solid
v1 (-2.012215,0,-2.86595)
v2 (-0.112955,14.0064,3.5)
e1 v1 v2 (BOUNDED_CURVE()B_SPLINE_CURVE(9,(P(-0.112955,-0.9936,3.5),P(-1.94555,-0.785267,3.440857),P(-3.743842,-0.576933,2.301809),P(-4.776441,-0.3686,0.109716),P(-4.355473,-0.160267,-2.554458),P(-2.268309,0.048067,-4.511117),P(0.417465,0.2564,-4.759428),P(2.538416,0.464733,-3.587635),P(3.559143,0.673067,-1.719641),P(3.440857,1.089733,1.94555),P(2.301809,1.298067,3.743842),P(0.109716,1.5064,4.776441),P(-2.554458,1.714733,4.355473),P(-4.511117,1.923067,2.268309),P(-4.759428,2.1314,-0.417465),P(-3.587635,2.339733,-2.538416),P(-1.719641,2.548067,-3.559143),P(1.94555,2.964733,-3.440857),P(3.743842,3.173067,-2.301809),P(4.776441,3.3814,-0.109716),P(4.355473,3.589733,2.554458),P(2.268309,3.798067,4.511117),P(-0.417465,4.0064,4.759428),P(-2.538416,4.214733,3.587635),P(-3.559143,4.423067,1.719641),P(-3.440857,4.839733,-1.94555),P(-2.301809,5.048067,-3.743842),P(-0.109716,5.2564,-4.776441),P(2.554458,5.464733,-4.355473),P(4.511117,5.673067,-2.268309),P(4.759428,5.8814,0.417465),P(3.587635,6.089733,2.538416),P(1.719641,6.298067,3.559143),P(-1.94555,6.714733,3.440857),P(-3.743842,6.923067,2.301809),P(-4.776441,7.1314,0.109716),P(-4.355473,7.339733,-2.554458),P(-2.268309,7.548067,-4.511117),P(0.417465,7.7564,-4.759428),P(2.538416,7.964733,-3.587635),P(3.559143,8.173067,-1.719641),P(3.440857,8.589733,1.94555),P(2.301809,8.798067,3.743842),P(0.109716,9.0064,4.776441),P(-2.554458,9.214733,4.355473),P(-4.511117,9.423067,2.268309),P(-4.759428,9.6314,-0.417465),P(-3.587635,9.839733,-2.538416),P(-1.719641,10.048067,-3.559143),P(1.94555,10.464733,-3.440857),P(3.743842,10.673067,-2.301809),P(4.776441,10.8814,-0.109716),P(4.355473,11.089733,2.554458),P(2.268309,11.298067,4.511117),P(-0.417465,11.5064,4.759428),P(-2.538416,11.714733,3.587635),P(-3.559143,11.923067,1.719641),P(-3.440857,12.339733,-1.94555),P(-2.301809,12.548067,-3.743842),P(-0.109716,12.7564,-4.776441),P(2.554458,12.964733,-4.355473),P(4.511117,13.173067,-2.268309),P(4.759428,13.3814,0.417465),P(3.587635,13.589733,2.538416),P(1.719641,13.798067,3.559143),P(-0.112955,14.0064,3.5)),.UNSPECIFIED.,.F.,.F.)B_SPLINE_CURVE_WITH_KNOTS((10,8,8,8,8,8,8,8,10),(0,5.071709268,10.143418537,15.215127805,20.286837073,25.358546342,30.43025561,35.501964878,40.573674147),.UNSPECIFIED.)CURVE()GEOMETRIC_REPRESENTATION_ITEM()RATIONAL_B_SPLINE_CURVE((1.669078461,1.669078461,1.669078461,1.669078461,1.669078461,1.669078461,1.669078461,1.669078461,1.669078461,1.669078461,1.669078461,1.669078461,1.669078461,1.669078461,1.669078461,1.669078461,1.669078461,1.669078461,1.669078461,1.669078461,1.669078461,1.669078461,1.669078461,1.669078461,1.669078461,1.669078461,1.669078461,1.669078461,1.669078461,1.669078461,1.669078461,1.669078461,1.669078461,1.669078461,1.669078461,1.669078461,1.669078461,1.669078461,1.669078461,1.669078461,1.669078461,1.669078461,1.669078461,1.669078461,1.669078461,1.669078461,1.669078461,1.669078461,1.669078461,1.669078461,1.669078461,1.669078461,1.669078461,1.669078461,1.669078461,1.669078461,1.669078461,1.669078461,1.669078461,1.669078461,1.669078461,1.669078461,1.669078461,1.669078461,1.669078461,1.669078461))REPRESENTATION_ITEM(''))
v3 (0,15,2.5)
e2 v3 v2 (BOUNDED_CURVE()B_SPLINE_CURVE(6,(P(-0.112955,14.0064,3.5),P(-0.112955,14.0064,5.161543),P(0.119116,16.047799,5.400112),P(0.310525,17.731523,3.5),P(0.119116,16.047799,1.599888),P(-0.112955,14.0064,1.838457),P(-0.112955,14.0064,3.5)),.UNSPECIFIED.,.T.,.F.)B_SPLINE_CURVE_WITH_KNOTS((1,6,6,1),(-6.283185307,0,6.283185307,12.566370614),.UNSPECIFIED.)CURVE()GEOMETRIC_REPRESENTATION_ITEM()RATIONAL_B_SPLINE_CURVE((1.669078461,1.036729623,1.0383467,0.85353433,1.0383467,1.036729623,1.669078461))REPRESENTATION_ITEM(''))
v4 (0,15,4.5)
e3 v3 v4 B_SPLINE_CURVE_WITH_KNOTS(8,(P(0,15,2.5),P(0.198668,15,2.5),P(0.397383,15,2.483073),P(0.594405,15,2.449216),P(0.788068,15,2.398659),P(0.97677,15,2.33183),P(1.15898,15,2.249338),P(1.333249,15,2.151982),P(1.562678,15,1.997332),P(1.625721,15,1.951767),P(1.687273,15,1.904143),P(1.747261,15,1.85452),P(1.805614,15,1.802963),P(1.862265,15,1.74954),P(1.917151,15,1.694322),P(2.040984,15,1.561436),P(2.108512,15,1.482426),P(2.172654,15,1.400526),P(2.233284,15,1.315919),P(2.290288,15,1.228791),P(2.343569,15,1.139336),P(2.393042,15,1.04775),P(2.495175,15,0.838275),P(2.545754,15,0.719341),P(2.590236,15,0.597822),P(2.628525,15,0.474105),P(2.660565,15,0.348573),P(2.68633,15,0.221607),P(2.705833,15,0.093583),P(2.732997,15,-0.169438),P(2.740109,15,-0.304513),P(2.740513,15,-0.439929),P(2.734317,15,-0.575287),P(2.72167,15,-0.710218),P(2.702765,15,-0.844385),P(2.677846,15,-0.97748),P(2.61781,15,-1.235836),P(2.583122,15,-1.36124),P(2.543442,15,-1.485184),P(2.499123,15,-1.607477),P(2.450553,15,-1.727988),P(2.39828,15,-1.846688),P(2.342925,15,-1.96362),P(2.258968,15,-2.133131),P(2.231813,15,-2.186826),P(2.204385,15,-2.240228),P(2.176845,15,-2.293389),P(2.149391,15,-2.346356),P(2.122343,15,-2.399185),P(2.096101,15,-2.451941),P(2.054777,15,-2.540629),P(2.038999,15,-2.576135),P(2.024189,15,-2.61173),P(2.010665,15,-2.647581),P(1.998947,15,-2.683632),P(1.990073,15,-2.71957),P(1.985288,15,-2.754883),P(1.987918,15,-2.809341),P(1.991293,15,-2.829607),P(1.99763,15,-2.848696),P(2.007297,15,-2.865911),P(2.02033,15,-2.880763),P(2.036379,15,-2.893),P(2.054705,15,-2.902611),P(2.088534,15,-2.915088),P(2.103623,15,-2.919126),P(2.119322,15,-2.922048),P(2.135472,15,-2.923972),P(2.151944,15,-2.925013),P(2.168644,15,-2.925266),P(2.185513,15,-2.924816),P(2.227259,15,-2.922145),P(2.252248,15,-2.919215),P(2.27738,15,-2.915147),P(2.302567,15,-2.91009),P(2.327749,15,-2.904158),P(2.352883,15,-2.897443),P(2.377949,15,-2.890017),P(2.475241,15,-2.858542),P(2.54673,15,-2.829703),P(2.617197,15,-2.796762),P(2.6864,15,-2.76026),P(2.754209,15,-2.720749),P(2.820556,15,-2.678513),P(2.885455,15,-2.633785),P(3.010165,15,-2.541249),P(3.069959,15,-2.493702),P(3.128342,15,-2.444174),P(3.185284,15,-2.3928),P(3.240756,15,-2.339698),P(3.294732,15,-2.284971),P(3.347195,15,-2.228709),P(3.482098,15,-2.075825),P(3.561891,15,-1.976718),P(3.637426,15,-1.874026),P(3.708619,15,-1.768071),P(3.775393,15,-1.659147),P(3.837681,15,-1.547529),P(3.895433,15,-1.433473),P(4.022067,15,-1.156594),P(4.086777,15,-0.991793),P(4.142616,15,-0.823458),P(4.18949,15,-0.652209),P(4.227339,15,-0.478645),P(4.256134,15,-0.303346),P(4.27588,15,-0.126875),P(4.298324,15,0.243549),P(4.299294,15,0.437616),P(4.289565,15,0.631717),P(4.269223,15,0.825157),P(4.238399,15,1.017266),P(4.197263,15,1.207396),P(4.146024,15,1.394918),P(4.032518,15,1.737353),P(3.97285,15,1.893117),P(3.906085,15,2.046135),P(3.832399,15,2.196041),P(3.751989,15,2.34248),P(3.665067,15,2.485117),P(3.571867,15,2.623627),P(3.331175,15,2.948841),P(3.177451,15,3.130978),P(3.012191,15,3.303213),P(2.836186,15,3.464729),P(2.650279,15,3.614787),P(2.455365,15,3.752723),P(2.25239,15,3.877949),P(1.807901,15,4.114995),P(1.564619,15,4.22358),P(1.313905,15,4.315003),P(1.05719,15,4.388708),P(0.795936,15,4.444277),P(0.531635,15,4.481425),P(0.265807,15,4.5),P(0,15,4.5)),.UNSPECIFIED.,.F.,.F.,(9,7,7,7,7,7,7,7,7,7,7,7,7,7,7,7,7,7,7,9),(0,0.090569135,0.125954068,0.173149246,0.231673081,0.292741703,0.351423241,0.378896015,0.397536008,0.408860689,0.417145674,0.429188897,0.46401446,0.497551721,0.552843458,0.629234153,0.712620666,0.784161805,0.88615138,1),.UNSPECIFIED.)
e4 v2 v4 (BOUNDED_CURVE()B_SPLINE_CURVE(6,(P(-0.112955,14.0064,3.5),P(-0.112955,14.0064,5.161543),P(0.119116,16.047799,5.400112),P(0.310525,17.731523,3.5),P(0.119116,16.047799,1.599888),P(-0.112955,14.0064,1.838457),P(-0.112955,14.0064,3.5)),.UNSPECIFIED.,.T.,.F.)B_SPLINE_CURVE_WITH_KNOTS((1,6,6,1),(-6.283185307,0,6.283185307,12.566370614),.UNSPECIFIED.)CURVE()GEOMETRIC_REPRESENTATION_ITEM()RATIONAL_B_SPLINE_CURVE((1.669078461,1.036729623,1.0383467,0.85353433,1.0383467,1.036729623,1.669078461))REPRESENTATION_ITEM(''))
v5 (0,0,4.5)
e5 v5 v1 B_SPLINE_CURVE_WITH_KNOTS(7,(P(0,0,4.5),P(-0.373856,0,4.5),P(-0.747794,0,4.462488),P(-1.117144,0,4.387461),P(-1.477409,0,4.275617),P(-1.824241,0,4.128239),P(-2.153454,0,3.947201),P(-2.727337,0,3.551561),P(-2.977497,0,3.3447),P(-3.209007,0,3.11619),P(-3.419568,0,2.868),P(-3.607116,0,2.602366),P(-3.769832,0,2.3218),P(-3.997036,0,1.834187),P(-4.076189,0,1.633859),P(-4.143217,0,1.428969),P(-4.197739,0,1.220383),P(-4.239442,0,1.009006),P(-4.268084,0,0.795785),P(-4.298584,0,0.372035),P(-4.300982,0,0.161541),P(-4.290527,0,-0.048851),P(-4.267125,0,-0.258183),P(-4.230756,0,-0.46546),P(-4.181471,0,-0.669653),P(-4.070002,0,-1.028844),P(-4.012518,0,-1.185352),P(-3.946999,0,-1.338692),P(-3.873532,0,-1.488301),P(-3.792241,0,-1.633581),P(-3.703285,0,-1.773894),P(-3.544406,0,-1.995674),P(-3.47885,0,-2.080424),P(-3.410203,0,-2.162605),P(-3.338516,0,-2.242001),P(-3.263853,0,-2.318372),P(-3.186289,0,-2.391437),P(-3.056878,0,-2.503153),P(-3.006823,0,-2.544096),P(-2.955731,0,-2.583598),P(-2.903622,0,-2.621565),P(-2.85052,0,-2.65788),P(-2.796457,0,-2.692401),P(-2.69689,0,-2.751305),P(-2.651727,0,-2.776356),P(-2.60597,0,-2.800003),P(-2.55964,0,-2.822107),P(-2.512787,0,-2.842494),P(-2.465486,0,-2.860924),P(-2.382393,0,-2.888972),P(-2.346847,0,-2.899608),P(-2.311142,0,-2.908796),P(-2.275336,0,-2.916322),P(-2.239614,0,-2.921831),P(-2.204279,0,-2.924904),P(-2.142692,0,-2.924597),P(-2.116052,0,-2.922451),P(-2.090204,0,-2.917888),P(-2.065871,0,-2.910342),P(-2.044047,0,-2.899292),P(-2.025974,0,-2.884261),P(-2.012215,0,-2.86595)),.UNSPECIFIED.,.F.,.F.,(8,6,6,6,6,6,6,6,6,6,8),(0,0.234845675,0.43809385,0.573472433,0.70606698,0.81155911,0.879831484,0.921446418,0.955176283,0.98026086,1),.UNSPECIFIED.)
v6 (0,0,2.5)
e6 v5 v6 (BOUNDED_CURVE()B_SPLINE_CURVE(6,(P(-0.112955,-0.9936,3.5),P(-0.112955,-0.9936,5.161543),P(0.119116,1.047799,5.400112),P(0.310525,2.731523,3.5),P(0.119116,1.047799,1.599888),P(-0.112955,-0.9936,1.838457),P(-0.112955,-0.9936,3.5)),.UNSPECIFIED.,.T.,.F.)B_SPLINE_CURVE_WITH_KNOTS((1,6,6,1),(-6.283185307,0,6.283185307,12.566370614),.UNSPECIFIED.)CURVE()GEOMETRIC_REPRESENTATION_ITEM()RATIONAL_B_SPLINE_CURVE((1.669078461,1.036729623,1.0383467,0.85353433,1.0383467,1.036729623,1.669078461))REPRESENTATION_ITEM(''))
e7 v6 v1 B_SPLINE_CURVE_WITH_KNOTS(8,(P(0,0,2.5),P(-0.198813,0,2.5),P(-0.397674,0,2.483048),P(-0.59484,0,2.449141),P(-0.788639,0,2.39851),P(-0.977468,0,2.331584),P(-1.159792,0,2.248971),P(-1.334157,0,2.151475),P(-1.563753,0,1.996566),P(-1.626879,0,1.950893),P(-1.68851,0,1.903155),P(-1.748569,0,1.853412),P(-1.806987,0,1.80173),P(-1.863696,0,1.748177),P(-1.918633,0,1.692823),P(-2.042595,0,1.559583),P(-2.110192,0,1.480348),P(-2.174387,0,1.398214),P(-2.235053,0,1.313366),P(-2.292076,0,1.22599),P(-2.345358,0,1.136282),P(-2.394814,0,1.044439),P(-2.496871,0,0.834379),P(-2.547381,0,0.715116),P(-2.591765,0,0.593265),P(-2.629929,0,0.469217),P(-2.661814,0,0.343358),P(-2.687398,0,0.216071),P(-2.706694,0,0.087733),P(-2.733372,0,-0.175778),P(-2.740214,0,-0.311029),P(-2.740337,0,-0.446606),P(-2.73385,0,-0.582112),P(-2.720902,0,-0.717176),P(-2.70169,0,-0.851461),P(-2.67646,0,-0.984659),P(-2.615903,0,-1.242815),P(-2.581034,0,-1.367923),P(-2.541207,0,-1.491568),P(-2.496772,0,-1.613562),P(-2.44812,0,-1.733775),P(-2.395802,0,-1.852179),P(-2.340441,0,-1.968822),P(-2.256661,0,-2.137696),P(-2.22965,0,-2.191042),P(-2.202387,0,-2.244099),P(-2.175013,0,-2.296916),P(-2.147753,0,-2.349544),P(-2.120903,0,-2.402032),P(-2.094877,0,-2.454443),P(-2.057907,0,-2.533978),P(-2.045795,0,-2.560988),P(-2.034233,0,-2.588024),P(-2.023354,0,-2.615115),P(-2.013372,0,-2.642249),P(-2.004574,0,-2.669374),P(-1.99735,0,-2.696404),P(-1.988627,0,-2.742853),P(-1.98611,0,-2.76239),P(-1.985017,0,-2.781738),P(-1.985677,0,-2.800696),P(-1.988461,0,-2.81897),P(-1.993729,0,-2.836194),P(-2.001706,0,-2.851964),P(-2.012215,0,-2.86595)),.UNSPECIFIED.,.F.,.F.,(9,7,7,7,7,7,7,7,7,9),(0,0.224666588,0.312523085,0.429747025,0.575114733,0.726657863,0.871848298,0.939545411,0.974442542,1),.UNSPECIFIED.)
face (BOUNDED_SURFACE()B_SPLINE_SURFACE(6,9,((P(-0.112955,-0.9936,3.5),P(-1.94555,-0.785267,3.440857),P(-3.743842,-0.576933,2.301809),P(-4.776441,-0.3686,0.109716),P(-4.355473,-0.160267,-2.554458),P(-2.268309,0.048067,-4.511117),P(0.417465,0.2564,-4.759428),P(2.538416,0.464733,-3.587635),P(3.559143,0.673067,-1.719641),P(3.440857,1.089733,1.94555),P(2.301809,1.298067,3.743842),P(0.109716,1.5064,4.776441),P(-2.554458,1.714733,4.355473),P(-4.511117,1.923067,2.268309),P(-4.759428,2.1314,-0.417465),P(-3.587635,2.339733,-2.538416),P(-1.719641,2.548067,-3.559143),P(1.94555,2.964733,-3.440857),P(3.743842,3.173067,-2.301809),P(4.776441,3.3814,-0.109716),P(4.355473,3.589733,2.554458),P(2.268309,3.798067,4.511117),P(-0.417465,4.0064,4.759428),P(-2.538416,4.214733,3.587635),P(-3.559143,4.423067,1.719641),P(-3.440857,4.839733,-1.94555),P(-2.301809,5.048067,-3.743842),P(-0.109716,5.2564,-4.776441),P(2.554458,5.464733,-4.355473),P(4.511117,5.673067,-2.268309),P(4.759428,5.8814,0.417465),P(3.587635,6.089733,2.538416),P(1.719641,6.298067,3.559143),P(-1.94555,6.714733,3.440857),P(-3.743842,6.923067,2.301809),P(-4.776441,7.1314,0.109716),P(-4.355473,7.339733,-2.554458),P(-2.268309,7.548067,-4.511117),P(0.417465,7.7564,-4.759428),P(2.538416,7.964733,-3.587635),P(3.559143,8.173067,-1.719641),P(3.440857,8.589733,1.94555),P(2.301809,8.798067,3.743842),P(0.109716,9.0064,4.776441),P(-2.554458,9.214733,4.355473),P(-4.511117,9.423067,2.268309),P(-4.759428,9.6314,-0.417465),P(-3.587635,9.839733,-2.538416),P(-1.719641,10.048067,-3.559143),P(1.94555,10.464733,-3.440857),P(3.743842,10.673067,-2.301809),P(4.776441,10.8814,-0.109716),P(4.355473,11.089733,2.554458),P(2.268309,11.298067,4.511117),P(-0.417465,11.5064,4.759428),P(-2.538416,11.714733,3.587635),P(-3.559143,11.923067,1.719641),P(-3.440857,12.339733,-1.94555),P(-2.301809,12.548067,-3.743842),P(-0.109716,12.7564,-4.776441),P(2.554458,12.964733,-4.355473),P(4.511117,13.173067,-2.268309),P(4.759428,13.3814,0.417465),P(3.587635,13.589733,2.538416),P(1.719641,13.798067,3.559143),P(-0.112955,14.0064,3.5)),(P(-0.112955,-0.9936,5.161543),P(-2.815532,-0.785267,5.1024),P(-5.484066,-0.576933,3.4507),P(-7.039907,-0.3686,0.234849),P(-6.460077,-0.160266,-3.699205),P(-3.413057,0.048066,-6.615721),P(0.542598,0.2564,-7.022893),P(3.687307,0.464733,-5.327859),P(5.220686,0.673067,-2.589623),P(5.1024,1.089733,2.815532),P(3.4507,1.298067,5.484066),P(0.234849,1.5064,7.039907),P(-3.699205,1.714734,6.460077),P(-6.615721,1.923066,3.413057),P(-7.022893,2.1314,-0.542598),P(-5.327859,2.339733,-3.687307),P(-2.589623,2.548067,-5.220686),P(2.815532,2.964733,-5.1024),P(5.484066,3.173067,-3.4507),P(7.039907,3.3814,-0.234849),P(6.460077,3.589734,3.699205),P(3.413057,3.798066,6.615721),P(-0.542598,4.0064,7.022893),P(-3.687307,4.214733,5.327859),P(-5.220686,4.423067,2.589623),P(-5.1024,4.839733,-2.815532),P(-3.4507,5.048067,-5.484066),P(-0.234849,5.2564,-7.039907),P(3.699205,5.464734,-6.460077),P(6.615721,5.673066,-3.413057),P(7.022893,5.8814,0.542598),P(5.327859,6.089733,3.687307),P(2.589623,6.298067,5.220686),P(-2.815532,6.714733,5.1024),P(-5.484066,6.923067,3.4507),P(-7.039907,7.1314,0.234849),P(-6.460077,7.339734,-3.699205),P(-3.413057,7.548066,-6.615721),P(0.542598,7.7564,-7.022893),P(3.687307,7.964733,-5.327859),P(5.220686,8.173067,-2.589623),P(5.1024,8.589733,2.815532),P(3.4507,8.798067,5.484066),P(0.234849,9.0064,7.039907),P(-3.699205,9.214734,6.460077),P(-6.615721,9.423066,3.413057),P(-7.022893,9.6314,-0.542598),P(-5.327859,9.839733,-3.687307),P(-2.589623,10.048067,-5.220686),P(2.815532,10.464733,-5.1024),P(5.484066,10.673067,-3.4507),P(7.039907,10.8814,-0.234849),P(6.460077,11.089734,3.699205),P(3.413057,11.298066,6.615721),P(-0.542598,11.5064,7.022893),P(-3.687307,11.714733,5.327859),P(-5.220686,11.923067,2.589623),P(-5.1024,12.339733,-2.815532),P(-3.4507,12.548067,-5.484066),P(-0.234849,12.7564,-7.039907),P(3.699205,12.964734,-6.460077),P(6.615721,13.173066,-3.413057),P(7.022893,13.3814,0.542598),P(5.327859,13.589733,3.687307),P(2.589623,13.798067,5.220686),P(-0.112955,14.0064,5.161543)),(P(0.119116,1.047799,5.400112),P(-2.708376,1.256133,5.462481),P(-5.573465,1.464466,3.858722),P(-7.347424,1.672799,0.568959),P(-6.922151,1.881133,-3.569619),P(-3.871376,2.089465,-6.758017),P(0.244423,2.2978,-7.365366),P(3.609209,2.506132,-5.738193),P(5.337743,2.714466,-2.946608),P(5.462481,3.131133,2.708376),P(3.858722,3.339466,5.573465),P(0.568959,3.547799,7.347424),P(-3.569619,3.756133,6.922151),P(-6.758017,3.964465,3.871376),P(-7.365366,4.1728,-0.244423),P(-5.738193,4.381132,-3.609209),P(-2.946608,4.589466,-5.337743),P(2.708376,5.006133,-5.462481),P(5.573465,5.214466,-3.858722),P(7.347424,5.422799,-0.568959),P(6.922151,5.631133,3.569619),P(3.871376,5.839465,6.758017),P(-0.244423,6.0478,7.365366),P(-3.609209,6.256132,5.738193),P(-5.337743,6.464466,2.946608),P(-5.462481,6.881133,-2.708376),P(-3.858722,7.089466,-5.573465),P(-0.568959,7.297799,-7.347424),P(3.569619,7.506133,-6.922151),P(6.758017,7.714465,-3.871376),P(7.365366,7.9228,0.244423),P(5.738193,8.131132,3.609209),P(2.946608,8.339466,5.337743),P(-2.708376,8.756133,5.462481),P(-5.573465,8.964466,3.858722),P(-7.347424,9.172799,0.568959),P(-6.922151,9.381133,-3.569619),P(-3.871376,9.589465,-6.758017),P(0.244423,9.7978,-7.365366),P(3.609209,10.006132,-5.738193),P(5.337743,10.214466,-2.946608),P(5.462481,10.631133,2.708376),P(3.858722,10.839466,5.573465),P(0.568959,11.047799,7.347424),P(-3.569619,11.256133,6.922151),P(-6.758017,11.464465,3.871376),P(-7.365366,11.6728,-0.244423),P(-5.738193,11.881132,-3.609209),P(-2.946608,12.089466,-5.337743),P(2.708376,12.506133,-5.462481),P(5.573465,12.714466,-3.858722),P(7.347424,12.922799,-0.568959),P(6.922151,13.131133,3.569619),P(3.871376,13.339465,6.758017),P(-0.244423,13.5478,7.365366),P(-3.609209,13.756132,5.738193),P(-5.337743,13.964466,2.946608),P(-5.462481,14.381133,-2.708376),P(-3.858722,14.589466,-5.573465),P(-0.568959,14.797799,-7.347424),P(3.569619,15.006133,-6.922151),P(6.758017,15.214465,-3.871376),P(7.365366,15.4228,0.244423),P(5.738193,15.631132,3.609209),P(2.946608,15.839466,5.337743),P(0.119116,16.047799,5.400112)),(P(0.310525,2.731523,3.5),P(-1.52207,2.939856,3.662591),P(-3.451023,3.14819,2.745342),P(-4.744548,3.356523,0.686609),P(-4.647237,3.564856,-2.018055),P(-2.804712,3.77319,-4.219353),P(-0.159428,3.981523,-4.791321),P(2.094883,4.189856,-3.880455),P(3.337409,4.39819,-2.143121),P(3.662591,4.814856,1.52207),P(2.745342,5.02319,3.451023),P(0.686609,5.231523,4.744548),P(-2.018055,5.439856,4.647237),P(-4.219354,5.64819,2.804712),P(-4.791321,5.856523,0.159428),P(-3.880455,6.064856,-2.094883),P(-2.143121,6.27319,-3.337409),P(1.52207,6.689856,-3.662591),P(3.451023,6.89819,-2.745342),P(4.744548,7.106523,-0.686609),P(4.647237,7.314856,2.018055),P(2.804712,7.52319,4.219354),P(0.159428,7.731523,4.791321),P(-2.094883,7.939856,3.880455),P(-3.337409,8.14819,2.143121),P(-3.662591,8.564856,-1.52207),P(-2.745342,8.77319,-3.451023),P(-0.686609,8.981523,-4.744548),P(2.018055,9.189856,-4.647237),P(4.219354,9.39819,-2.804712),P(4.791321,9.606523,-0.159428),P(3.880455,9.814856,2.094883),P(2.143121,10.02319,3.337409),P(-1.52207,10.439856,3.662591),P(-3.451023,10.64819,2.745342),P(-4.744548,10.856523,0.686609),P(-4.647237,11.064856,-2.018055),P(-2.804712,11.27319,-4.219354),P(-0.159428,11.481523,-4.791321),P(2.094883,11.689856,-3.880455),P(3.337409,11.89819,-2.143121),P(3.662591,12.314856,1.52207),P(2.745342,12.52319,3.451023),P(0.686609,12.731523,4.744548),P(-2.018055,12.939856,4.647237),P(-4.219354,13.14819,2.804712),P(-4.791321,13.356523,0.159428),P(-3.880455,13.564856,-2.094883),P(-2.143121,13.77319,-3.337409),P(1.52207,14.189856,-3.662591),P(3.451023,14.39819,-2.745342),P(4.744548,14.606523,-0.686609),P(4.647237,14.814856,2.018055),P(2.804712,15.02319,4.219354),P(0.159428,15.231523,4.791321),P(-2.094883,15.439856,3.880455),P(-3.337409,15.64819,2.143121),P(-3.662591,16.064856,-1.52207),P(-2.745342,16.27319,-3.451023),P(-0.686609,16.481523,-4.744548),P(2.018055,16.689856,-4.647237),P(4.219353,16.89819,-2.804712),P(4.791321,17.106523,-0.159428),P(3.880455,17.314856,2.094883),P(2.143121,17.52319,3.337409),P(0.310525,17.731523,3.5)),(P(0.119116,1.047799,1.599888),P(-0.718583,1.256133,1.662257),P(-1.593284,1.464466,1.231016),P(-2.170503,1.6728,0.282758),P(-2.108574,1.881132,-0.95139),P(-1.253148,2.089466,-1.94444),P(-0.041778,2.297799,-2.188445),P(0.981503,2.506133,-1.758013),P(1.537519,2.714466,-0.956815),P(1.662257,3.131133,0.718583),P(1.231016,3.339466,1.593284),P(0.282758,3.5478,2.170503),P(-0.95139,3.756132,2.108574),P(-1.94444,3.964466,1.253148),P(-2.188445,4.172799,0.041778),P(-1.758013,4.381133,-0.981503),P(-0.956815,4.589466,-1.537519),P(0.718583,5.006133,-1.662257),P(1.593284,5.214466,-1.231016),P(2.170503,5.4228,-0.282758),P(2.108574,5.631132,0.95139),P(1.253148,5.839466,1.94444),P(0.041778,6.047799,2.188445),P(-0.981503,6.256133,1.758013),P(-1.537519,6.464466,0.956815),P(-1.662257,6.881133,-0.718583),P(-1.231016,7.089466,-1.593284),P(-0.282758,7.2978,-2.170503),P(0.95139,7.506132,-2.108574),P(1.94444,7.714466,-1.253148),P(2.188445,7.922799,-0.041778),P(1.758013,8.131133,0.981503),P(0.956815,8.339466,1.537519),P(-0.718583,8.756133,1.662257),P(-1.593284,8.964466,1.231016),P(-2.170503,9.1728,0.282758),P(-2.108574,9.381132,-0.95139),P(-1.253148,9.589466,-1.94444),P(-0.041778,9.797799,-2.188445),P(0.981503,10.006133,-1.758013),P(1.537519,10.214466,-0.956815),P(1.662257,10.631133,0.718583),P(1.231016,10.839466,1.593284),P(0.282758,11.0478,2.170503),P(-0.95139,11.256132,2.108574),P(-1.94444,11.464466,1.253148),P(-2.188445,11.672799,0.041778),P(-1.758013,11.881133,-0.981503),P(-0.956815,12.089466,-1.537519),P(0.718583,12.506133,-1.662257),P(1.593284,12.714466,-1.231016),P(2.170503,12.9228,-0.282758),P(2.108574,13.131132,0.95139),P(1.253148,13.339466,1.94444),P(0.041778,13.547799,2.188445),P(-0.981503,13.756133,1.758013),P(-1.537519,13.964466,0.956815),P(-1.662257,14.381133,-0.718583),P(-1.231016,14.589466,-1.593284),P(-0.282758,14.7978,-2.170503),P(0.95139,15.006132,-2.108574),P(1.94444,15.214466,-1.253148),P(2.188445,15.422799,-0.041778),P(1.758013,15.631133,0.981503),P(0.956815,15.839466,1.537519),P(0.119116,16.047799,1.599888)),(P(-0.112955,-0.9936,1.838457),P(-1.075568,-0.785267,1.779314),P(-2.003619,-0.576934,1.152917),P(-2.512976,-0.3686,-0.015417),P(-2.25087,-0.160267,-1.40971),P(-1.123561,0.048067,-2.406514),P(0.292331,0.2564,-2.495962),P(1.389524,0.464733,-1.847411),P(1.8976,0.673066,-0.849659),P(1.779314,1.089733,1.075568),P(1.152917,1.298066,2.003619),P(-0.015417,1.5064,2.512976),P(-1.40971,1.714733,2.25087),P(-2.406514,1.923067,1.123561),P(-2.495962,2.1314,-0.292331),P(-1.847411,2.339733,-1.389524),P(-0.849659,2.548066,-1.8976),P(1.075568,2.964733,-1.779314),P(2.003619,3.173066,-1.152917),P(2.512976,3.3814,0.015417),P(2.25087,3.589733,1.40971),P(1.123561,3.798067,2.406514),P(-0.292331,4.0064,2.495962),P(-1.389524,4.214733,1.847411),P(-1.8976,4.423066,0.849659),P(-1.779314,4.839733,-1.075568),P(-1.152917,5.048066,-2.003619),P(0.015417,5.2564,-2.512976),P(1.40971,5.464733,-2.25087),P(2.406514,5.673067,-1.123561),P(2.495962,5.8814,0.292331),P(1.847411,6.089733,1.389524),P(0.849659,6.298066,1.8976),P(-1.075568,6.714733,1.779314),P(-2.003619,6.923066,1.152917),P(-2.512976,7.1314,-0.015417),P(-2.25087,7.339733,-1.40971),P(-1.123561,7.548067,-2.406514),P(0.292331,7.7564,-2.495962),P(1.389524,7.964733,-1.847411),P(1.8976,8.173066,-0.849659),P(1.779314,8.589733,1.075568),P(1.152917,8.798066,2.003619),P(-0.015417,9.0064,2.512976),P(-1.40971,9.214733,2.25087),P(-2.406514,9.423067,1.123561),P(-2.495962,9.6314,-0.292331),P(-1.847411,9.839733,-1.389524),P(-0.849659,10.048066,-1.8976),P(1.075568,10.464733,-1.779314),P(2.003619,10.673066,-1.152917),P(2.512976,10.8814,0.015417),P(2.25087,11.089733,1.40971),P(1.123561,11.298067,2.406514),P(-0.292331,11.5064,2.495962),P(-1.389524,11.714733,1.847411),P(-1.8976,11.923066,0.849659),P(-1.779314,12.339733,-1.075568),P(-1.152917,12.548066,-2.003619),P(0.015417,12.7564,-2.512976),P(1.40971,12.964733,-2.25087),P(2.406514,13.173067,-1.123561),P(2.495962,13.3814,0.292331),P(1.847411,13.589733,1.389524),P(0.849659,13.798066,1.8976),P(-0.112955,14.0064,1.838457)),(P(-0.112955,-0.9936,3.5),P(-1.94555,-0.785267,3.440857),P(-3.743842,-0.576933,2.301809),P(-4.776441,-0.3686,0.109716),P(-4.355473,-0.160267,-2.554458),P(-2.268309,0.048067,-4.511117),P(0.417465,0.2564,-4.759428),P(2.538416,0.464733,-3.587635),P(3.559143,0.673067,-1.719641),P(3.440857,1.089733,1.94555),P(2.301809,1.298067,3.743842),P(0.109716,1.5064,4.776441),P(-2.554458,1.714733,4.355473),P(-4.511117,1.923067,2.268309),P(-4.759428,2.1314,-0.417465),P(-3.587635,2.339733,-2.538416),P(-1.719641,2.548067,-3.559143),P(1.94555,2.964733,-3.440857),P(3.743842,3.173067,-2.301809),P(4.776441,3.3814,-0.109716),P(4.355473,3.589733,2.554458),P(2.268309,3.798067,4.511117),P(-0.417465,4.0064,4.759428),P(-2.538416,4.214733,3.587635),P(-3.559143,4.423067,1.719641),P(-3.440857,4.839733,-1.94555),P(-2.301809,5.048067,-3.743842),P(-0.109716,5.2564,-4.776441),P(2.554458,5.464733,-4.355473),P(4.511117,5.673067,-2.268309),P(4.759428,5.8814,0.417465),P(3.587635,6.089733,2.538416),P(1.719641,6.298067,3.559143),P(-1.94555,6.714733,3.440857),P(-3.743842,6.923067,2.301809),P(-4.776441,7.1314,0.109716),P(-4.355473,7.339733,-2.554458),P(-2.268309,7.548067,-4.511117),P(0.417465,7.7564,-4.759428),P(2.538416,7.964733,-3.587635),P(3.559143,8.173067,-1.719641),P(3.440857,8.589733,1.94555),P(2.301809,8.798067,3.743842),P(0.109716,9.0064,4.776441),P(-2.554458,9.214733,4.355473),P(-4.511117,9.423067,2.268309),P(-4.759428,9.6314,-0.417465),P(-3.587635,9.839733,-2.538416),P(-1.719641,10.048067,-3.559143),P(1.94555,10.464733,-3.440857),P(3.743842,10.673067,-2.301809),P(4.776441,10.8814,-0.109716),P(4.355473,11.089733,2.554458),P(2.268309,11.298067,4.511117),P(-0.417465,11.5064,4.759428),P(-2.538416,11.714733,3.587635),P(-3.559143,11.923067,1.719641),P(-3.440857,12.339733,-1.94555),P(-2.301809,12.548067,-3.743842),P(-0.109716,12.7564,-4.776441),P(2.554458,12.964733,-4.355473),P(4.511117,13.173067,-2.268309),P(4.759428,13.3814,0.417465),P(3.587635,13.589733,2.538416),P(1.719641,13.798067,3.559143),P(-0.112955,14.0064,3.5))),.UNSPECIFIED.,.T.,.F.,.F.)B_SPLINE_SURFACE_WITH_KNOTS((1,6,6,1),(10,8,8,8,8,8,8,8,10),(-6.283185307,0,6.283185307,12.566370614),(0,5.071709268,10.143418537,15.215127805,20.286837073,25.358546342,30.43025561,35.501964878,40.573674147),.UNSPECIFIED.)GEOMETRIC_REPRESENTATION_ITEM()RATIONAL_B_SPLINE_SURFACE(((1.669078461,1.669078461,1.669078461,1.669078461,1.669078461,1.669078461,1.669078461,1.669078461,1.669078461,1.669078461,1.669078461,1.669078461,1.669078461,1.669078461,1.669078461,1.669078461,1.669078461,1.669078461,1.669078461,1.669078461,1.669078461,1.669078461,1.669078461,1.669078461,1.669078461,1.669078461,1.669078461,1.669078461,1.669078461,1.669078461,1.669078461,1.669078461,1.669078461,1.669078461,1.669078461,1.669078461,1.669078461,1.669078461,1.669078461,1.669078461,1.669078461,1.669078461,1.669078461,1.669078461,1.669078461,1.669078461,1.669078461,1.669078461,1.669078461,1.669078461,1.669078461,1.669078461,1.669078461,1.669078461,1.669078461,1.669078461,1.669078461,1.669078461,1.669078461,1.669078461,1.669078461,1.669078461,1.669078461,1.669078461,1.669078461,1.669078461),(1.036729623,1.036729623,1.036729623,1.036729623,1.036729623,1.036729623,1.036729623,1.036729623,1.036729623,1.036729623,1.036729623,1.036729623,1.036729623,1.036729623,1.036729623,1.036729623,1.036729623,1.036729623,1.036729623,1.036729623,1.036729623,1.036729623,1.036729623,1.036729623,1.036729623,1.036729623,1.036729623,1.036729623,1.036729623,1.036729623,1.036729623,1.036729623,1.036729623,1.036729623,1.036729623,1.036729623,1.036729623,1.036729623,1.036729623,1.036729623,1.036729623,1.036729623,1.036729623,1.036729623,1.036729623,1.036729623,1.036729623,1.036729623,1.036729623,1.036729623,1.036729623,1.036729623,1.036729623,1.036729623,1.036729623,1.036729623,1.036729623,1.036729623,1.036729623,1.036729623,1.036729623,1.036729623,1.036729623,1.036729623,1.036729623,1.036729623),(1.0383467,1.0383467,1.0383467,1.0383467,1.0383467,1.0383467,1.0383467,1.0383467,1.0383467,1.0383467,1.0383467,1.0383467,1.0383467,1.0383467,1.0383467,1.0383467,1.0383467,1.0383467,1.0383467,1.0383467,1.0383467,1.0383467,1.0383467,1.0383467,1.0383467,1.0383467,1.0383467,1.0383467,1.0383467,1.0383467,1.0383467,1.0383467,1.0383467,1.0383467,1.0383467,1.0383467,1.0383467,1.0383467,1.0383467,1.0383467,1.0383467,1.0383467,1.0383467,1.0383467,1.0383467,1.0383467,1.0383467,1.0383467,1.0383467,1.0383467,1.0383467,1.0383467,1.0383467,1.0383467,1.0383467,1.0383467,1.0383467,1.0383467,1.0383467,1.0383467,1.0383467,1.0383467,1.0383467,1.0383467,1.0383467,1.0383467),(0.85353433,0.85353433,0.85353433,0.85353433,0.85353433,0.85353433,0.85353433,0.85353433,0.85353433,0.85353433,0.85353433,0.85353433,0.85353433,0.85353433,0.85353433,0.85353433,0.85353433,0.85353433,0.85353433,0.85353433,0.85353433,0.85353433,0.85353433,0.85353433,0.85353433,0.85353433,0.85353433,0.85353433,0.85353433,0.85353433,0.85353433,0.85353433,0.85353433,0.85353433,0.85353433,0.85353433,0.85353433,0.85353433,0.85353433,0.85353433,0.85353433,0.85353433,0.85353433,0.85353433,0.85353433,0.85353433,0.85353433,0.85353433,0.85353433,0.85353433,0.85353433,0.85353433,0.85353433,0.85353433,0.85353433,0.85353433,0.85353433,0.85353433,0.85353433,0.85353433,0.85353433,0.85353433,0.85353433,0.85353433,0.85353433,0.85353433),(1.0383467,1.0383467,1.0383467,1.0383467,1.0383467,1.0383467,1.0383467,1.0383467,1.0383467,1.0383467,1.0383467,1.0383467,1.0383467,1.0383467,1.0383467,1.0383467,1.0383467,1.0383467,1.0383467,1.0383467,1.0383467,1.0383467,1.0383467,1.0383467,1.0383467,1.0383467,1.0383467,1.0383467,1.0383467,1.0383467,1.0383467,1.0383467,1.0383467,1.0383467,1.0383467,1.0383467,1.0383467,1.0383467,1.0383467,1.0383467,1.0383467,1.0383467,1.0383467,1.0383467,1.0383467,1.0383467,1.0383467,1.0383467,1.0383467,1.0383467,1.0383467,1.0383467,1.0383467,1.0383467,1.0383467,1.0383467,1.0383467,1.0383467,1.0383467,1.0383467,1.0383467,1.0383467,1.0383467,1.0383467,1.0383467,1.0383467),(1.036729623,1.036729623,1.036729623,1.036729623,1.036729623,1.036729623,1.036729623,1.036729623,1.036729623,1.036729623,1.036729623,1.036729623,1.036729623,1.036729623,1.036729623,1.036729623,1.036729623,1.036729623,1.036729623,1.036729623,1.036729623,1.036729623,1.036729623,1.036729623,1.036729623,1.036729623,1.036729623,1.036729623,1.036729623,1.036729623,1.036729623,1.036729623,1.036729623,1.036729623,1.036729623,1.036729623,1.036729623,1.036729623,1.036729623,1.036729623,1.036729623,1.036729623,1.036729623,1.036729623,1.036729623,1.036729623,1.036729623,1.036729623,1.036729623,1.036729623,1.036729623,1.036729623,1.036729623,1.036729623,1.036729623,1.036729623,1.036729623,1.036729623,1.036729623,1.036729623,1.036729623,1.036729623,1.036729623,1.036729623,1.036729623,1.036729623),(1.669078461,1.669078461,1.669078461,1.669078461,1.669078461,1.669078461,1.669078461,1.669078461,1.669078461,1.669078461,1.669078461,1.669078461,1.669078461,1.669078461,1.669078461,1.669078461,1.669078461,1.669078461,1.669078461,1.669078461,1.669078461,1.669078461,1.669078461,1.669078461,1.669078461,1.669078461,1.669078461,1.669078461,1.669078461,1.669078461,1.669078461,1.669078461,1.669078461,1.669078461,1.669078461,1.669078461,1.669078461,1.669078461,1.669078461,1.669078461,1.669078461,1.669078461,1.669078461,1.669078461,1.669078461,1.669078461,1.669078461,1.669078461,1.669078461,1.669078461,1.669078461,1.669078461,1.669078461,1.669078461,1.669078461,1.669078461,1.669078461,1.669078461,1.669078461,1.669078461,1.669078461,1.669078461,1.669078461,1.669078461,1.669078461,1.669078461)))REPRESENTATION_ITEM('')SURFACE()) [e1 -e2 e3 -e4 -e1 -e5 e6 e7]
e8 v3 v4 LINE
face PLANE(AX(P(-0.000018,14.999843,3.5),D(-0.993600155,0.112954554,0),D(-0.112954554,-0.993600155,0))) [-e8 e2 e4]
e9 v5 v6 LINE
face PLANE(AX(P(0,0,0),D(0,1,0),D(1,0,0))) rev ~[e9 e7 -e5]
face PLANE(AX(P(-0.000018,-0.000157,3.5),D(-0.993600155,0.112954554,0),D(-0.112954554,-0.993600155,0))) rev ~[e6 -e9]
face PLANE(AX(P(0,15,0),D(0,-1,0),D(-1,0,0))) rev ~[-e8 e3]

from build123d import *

# Parameters (mm, degrees)
SWEEP2_PITCH       = 2.5
SWEEP2_HEIGHT      = 15
SWEEP2_RADIUS      = 3.5
SWEEP2_PROFILE_R   = 1
SKETCH17_R         = 7
CUT_EXTRUDE1_DEPTH = 10
SKETCH18_R         = 7
CUT_EXTRUDE2_DEPTH = 10


with BuildPart() as part:
    # Sweep2: sweep along a helix
    with BuildLine() as sweep2_path:
        Helix(SWEEP2_PITCH, SWEEP2_HEIGHT, SWEEP2_RADIUS, center=(0, 0, 0), direction=(0, 1, 0), lefthand=True)
    # Sweep2 profile (on start of the path) → Sweep2 (sweep)
    with BuildSketch(Plane(origin=(0, 0, 3.5), x_dir=(-0.11295455441066544, -0.9936001553129348, 0), z_dir=(-0.9936001553129348, 0.11295455441066544, -4.146218604926328e-13))):
        Circle(SWEEP2_PROFILE_R)
    sweep(path=sweep2_path.line, is_frenet=True)

    # Sketch17 → Cut-Extrude1 (cut)
    with BuildSketch(Plane(origin=(0, 0, 0), x_dir=(1, 0, 0), z_dir=(0, 1, 0))):
        Circle(SKETCH17_R)
    extrude(amount=-CUT_EXTRUDE1_DEPTH, mode=Mode.SUBTRACT)

    # Sketch18 → Cut-Extrude2 (cut)
    with BuildSketch(Plane(origin=(0, 15, 0), x_dir=(-1, 0, 0), z_dir=(0, -1, 0))):
        Circle(SKETCH18_R)
    extrude(amount=-CUT_EXTRUDE2_DEPTH, mode=Mode.SUBTRACT)


solid = part.part
